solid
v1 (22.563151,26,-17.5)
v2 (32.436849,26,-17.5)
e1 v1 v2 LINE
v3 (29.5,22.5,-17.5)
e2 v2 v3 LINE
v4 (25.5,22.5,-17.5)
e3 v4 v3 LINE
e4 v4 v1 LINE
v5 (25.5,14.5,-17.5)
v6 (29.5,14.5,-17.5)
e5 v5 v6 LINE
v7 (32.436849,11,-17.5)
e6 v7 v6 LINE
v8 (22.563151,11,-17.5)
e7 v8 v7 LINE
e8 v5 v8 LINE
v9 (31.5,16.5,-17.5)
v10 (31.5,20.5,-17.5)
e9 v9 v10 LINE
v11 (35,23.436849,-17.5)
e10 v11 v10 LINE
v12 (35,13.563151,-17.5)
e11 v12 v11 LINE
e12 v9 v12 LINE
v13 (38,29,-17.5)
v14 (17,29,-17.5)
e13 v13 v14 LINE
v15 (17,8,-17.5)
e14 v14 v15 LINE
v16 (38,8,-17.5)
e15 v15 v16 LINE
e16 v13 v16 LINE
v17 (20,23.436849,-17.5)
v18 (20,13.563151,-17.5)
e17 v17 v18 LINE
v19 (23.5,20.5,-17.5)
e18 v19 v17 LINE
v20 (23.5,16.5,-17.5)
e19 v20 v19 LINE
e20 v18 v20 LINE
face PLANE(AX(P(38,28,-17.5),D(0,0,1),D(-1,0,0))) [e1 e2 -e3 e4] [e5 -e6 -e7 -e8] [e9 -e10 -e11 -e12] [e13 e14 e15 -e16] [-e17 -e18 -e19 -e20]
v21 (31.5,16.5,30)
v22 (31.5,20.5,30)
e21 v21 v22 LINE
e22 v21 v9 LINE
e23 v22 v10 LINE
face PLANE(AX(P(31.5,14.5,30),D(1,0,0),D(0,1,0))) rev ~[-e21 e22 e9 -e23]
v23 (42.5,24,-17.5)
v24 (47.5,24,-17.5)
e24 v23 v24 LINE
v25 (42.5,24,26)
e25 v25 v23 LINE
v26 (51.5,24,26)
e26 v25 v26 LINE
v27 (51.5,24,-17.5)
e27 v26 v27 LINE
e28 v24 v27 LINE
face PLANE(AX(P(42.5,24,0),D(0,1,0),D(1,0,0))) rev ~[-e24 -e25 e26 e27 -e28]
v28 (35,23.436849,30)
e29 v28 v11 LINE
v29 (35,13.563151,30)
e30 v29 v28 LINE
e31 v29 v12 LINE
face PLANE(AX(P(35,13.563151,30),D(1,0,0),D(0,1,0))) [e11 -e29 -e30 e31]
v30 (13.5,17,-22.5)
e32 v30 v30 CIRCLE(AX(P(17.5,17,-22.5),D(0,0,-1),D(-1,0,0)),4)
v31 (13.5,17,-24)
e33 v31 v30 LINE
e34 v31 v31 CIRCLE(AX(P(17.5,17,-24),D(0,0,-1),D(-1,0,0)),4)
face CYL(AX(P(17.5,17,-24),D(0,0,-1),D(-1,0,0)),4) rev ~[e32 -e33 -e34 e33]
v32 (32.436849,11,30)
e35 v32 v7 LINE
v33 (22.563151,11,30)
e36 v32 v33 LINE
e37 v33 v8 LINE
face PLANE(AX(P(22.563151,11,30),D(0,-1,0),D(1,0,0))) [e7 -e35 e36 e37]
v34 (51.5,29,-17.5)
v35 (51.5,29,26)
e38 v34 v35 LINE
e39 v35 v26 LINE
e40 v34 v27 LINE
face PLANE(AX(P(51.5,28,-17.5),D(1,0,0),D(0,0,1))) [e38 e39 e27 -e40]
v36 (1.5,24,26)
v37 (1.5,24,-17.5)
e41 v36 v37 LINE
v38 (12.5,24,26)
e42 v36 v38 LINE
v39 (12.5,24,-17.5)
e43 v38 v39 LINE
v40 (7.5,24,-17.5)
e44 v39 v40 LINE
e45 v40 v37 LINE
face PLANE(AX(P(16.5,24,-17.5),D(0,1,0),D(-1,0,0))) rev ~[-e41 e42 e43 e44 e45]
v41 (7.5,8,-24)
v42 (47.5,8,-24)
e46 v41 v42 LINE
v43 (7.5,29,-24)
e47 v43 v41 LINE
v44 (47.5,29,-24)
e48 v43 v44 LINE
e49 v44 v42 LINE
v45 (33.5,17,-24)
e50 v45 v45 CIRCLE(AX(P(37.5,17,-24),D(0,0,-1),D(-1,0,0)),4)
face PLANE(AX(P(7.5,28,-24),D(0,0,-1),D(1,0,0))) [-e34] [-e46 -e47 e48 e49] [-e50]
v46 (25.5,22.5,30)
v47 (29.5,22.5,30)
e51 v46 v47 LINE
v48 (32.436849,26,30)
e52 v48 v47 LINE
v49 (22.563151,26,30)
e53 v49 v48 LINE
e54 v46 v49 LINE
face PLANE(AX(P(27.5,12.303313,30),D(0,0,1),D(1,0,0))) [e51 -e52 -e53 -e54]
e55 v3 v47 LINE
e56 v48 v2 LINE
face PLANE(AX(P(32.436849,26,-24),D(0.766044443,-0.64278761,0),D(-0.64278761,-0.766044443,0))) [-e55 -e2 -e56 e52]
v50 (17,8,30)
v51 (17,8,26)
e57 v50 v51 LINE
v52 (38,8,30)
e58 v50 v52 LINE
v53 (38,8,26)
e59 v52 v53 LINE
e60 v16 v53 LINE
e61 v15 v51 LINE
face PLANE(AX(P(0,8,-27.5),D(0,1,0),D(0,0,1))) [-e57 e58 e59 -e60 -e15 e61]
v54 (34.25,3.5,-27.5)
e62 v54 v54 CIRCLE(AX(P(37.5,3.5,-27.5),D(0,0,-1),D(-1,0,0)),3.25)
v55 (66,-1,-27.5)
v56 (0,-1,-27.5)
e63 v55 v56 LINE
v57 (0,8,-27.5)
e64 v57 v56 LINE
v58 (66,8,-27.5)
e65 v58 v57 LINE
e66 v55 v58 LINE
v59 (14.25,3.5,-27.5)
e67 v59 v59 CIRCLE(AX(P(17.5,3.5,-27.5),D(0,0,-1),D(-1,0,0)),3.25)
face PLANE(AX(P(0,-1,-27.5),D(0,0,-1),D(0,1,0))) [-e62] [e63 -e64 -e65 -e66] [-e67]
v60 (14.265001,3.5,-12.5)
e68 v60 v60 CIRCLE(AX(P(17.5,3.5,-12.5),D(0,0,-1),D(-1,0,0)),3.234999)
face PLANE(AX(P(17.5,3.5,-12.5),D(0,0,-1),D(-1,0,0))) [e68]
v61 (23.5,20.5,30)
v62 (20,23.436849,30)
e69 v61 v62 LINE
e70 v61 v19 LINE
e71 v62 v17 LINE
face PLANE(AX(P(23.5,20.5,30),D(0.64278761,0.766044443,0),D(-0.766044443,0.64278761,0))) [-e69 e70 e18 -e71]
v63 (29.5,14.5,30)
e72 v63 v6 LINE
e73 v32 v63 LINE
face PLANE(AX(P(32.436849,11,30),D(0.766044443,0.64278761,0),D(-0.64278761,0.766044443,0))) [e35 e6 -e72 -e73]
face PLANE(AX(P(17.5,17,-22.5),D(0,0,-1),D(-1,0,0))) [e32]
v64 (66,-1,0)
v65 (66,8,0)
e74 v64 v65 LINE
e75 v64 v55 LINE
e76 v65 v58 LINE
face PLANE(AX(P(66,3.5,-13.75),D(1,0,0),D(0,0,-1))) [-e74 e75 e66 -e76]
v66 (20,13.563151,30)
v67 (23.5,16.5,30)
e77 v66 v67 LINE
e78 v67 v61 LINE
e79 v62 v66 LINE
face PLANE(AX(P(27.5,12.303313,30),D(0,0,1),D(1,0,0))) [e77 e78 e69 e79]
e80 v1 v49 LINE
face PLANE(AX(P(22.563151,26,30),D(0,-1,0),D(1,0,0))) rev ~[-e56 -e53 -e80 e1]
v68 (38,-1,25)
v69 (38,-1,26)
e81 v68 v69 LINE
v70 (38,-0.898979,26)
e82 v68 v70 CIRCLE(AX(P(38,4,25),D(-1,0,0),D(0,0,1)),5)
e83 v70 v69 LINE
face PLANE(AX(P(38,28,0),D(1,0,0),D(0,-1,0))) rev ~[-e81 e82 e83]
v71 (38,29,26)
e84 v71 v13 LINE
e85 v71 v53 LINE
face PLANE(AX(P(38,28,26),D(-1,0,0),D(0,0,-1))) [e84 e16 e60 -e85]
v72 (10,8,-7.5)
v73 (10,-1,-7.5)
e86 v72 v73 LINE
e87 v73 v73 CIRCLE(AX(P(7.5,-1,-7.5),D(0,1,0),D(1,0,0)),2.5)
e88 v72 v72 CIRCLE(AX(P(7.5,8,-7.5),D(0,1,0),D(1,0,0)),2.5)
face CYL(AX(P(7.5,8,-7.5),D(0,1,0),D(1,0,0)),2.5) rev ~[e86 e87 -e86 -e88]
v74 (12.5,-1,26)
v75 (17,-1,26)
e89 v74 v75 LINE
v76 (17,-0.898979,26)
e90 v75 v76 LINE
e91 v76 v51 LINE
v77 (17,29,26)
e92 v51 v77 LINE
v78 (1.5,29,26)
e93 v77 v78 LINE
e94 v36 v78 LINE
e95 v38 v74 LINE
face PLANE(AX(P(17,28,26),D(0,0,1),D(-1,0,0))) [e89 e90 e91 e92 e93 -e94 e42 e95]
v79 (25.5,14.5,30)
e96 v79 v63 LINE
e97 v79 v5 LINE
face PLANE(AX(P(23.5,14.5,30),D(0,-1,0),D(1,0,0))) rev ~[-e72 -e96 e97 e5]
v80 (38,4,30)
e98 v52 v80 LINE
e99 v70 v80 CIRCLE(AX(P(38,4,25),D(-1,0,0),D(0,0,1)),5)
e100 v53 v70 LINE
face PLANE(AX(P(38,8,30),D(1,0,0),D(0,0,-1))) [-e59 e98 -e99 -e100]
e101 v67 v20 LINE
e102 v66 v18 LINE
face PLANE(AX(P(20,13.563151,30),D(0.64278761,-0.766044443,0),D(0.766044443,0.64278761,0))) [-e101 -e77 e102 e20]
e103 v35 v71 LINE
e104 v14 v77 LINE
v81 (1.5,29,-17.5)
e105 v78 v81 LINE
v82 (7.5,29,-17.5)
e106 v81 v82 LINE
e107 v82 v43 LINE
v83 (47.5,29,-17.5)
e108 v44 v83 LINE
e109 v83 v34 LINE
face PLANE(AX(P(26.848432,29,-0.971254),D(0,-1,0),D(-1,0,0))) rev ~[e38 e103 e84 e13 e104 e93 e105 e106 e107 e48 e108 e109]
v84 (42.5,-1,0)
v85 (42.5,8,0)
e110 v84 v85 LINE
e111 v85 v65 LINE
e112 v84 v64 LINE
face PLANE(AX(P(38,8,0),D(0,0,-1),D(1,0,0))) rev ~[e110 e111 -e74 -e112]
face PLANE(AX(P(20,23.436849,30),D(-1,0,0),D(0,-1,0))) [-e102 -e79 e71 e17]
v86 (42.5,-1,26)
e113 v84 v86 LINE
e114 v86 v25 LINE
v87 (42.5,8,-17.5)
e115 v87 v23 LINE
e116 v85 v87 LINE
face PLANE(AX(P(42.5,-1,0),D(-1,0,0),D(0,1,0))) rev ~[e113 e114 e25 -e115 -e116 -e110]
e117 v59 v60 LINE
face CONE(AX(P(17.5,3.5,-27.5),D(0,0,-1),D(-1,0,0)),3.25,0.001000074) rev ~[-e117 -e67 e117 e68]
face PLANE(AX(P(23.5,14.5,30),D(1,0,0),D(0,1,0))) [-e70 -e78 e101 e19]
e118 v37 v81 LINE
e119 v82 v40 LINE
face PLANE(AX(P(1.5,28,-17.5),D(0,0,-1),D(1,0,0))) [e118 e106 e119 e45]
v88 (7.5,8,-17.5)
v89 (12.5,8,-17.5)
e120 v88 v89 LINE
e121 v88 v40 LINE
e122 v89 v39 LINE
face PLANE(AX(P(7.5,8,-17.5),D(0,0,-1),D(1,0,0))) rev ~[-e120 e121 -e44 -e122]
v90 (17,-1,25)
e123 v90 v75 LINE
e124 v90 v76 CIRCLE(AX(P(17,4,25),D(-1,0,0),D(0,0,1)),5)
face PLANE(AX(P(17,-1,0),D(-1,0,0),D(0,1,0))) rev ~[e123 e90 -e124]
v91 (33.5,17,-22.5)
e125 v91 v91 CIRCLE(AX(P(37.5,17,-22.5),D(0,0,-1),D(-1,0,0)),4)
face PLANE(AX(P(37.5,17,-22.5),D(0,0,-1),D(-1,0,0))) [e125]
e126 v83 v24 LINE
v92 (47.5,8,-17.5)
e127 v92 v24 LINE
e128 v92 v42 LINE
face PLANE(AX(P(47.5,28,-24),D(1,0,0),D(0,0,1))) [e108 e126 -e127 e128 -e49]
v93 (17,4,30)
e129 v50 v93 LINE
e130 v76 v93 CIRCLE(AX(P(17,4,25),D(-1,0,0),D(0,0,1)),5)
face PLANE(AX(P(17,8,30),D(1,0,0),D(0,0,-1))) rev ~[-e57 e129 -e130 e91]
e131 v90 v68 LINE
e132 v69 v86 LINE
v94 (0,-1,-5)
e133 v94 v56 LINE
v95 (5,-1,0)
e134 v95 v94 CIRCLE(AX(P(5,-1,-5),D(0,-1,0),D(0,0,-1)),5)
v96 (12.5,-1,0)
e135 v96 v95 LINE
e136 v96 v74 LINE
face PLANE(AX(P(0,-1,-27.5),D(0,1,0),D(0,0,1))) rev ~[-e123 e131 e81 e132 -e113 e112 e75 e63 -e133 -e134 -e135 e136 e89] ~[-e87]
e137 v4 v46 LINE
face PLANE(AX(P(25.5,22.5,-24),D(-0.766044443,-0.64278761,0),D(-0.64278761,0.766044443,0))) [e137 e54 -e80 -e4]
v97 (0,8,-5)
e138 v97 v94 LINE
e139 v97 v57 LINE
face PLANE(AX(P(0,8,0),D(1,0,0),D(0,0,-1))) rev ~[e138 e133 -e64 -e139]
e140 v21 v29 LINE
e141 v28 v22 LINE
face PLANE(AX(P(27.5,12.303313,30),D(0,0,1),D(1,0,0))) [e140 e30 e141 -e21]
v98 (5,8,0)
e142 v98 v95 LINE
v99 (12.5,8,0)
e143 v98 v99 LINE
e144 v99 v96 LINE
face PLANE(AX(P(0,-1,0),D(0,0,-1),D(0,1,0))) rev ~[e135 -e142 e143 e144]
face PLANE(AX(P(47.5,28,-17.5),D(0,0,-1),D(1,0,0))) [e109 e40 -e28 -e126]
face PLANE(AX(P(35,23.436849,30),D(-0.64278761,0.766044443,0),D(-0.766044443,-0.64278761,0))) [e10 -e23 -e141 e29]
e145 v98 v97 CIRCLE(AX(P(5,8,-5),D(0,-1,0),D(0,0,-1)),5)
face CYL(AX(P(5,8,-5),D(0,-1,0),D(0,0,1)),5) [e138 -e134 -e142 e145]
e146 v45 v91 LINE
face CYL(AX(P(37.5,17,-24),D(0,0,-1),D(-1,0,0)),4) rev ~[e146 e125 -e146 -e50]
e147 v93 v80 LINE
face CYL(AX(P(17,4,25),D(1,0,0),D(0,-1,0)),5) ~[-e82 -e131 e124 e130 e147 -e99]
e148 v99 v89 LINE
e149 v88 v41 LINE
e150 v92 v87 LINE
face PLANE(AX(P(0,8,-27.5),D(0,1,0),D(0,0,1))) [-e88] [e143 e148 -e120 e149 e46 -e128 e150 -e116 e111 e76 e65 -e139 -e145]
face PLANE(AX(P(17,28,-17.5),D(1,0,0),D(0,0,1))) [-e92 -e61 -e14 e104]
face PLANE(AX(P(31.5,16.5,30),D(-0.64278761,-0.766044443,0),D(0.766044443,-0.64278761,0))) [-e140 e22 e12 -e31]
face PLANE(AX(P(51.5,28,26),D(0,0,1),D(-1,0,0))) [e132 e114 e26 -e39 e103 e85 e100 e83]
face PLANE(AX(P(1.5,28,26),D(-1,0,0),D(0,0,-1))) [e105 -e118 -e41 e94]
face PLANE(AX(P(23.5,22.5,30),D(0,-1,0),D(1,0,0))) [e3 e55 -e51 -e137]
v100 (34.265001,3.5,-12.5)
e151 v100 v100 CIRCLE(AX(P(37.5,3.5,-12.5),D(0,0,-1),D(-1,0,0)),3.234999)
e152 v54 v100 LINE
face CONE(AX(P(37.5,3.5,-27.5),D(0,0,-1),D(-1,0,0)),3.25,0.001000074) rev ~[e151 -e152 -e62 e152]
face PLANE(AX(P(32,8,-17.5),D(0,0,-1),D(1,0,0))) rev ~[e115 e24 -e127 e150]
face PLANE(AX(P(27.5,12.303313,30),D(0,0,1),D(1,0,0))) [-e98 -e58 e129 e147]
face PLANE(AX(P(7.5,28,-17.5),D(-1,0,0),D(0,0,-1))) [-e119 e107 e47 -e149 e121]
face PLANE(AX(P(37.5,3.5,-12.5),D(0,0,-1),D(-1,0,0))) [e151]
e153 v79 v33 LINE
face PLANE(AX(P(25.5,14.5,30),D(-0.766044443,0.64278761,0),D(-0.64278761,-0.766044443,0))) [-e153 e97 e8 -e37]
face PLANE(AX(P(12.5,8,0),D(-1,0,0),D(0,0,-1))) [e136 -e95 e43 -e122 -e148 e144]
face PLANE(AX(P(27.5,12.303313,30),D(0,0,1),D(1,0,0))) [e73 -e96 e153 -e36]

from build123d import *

# Parameters (mm, degrees)
BOSS_EXTRUDE2_DEPTH          = 8
BOSS_EXTRUDE2_DEPTH_BACK     = 1
SKETCH1_R                    = 2.5
CUT_EXTRUDE1_DEPTH           = 79.300702423
CUT_EXTRUDE1_DEPTH_BACK      = 79.300702423
SKETCH2_R                    = 2.5
SKETCH3_R                    = 3.25
CUT_EXTRUDE5_DEPTH           = 15
CUT_EXTRUDE5_DRAFT           = -0.0573
CUT_EXTRUDE5_PROFILE_2_DEPTH = 15
CUT_EXTRUDE5_PROFILE_2_DRAFT = -0.0573
SKETCH5_W                    = 9
SKETCH5_H                    = 6.5
BOSS_EXTRUDE3_DEPTH          = 14.5
CUT_EXTRUDE4_DEPTH           = 1.5
SKETCH12_W                   = 21
SKETCH12_H                   = 30
BOSS_EXTRUDE7_DEPTH          = 9
SKETCH15_W                   = 9
SKETCH15_H                   = 6.5
BOSS_EXTRUDE8_DEPTH          = 3.5
BOSS_EXTRUDE9_DEPTH          = 54
FILLET4_R                    = 5
SKETCH18_W                   = 9.873697418
SKETCH18_H                   = 6.5
BOSS_EXTRUDE11_DEPTH         = 0.5
SKETCH20_W                   = 4
SKETCH20_H                   = 17.5
BOSS_EXTRUDE12_DEPTH         = 18
BOSS_EXTRUDE13_DEPTH         = 11
BOSS_EXTRUDE13_DEPTH_BACK    = 4
SKETCH22_W                   = 17.5
SKETCH22_H                   = 4
SKETCH25_W                   = 2
SKETCH25_H                   = 17.5
BOSS_EXTRUDE14_DEPTH         = 41
SKETCH28_W                   = 41
SKETCH28_H                   = 45
BOSS_EXTRUDE15_DEPTH         = 2
SKETCH29_R                   = 1.75
CUT_EXTRUDE8_DEPTH           = 9
BOSS_EXTRUDE16_DEPTH         = 9
BOSS_EXTRUDE16_DEPTH_BACK    = 4
SKETCH30_W                   = 17.5
SKETCH30_H                   = 4
SKETCH31_R                   = 10
CUT_EXTRUDE9_DEPTH           = 9
SKETCH32_W                   = 13
SKETCH32_H                   = 4
BOSS_EXTRUDE17_DEPTH         = 23.5
SKETCH33_W                   = 0.5
SKETCH33_H                   = 17.5
BOSS_EXTRUDE18_DEPTH         = 20
BOSS_EXTRUDE19_DEPTH         = 26
SKETCH35_W                   = 9.873697418
SKETCH35_H                   = 0.5
BOSS_EXTRUDE20_DEPTH         = 47.5
BOSS_EXTRUDE21_DEPTH         = 47.5
SKETCH38_W                   = 0.419549816
SKETCH38_H                   = 18.5
CUT_EXTRUDE10_DEPTH          = 90.5
SKETCH46_W                   = 27.5
SKETCH46_H                   = 9
BOSS_EXTRUDE26_DEPTH         = 11.5
SKETCH47_W                   = 27.5
SKETCH47_H                   = 9
BOSS_EXTRUDE27_DEPTH         = 11
SKETCH48_W                   = 15.5
SKETCH48_H                   = 6.5
BOSS_EXTRUDE31_DEPTH         = 18.5
SKETCH50_R                   = 4
CUT_EXTRUDE11_DEPTH          = 1.5
SKETCH51_W                   = 9.626242636
SKETCH51_H                   = 9.125298808
BOSS_EXTRUDE32_DEPTH         = 1.5
SKETCH54_W                   = 8
SKETCH54_H                   = 8
BOSS_EXTRUDE35_DEPTH         = 47.5
SKETCH55_W                   = 9.873697418
SKETCH55_H                   = 0.5
CUT_EXTRUDE12_DEPTH          = 47.5
BOSS_EXTRUDE37_DEPTH         = 47.5
CUT_EXTRUDE17_DEPTH          = 47.5
SKETCH62_W                   = 8
SKETCH62_H                   = 8
CUT_EXTRUDE18_DEPTH          = 47.5
SKETCH63_W                   = 13
SKETCH63_H                   = 4
CUT_EXTRUDE20_DEPTH          = 17
SKETCH64_W                   = 0.5
SKETCH64_H                   = 1.5
BOSS_EXTRUDE38_DEPTH         = 6.5
SKETCH65_W                   = 11
SKETCH65_H                   = 27.5
SKETCH65_R                   = 2.5
CUT_EXTRUDE22_DEPTH          = 9
FILLET6_R                    = 5
BOSS_EXTRUDE39_DEPTH         = 11
BOSS_EXTRUDE39_DEPTH_BACK    = 10
SKETCH67_W                   = 27.5
SKETCH67_H                   = 9
SKETCH68_W                   = 2
SKETCH68_H                   = 45
CUT_EXTRUDE23_DEPTH          = 17
SKETCH69_W                   = 2
SKETCH69_H                   = 41
CUT_EXTRUDE24_DEPTH          = 37
CUT_EXTRUDE25_DEPTH          = 6.5
SKETCH71_W                   = 40
SKETCH71_H                   = 6.5
BOSS_EXTRUDE40_DEPTH         = 1.5
BOSS_EXTRUDE41_DEPTH         = 1


with BuildPart() as part:
    # Sketch1 → Boss-Extrude2 (new, two sides: drawn at the far end of the back side and taken through both)
    with BuildSketch(Plane(origin=(0, 0, 0), x_dir=(1, 0, 0), z_dir=(0, 1, 0)).offset(-BOSS_EXTRUDE2_DEPTH_BACK)):
        with BuildLine():
            Line((5, 0), (50, 0))
            ThreePointArc((50, 0), (53.535533906, 1.464466094), (55, 5))
            Line((55, 5), (55, 50))
            ThreePointArc((55, 50), (53.535533906, 53.535533906), (50, 55))
            Line((50, 55), (5, 55))
            ThreePointArc((5, 55), (1.464466094, 53.535533906), (0, 50))
            Line((0, 50), (0, 5))
            ThreePointArc((0, 5), (1.464466094, 1.464466094), (5, 0))
        make_face()
        with Locations((7.5, 47.5)):
            Circle(SKETCH1_R, mode=Mode.SUBTRACT)
        with Locations((47.5, 47.5)):
            Circle(SKETCH1_R, mode=Mode.SUBTRACT)
        with Locations((47.5, 7.5)):
            Circle(SKETCH1_R, mode=Mode.SUBTRACT)
        with Locations((7.5, 7.5)):
            Circle(SKETCH1_R, mode=Mode.SUBTRACT)
    extrude(amount=BOSS_EXTRUDE2_DEPTH + BOSS_EXTRUDE2_DEPTH_BACK)

    # Sketch2 → Cut-Extrude1 (cut, two sides: drawn at the far end of the back side and taken through both)
    with BuildSketch(Plane(origin=(0, 8, 0), x_dir=(1, 0, 0), z_dir=(0, 1, 0)).offset(-CUT_EXTRUDE1_DEPTH_BACK)):
        with BuildLine():
            Line((0, 50), (0, 27.5))
            Line((0, 27.5), (55, 27.5))
            Line((55, 27.5), (55, 50))
            ThreePointArc((55, 50), (53.535533906, 53.535533906), (50, 55))
            Line((50, 55), (5, 55))
            ThreePointArc((5, 55), (1.464466094, 53.535533906), (0, 50))
        make_face()
        with Locations((7.5, 47.5)):
            Circle(SKETCH2_R, mode=Mode.SUBTRACT)
        with Locations((47.5, 47.5)):
            Circle(SKETCH2_R, mode=Mode.SUBTRACT)
    extrude(amount=CUT_EXTRUDE1_DEPTH + CUT_EXTRUDE1_DEPTH_BACK, mode=Mode.SUBTRACT)


with BuildPart() as cut_extrude5_tool:
    # Sketch3 → Cut-Extrude5 (with draft: the straight prism first)
    with BuildSketch(Plane(origin=(0, 0, -27.5), x_dir=(-1, 0, 0), z_dir=(0, 0, -1))):
        with Locations((-37.5, 3.5)):
            Circle(SKETCH3_R)
    extrude(amount=-CUT_EXTRUDE5_DEPTH)
    # Cut-Extrude5: the draft: its side faces are tilted about the plane it starts from
    cut_extrude5_sides = [cut_extrude5_tool.faces().sort_by_distance(p)[0] for p in [
        (40.75, 3.5, -20),
    ]]
    draft(cut_extrude5_sides, Plane(origin=(0, 0, -27.5), x_dir=(-1, 0, 0), z_dir=(0, 0, -1)), CUT_EXTRUDE5_DRAFT)


with BuildPart() as part_1:
    add(part.part)

    # Cut-Extrude5: cut by cut_extrude5_tool
    add(cut_extrude5_tool.part, mode=Mode.SUBTRACT)


with BuildPart() as cut_extrude5_profile_2_tool:
    # Sketch3 → Cut-Extrude5 profile 2 (with draft: the straight prism first)
    with BuildSketch(Plane(origin=(0, 0, -27.5), x_dir=(-1, 0, 0), z_dir=(0, 0, -1))):
        with Locations((-17.5, 3.5)):
            Circle(SKETCH3_R)
    extrude(amount=-CUT_EXTRUDE5_PROFILE_2_DEPTH)
    # Cut-Extrude5 profile 2: the draft: its side faces are tilted about the plane it starts from
    cut_extrude5_profile_2_sides = [cut_extrude5_profile_2_tool.faces().sort_by_distance(p)[0] for p in [
        (20.75, 3.5, -20),
    ]]
    draft(cut_extrude5_profile_2_sides, Plane(origin=(0, 0, -27.5), x_dir=(-1, 0, 0), z_dir=(0, 0, -1)), CUT_EXTRUDE5_PROFILE_2_DRAFT)


with BuildPart() as part_2:
    add(part_1.part)

    # Cut-Extrude5 profile 2: cut by cut_extrude5_profile_2_tool
    add(cut_extrude5_profile_2_tool.part, mode=Mode.SUBTRACT)

    # Sketch5 → Boss-Extrude3 (add)
    with BuildSketch(Plane(origin=(0, 8, 0), x_dir=(1, 0, 0), z_dir=(0, 1, 0))):
        with Locations((27.5, 20.75)):
            Rectangle(SKETCH5_W, SKETCH5_H)
    extrude(amount=BOSS_EXTRUDE3_DEPTH)

    # Sketch6 → Cut-Extrude4 (cut)
    with BuildSketch(Plane(origin=(0, 0, -24), x_dir=(-1, 0, 0), z_dir=(0, 0, -1))):
        with BuildLine():
            ThreePointArc((-27.5, 13), (-24.671572875, 14.171572875), (-23.5, 17))
            ThreePointArc((-23.5, 17), (-30.328427125, 19.828427125), (-27.5, 13))
        make_face()
    extrude(amount=-CUT_EXTRUDE4_DEPTH, mode=Mode.SUBTRACT)

    # Sketch12 → Boss-Extrude7 (add)
    with BuildSketch(Plane(origin=(0, 8, 0), x_dir=(1, 0, 0), z_dir=(0, 1, 0))):
        with Locations((27.5, -15)):
            Rectangle(SKETCH12_W, SKETCH12_H)
    extrude(amount=-BOSS_EXTRUDE7_DEPTH)

    # Sketch15 → Boss-Extrude8 (add)
    with BuildSketch(Plane(origin=(0, 22.5, 0), x_dir=(1, 0, 0), z_dir=(0, 1, 0))):
        with Locations((27.5, 20.75)):
            Rectangle(SKETCH15_W, SKETCH15_H)
    extrude(amount=BOSS_EXTRUDE8_DEPTH)

    # Sketch11 → Boss-Extrude9 (add)
    with BuildSketch(Plane(origin=(0, 0, -24), x_dir=(-1, 0, 0), z_dir=(0, 0, -1))):
        Polygon((-29.5, 22.5), (-25.5, 22.5), (-22.563151291, 26), (-32.436848709, 26), align=None)
    extrude(amount=-BOSS_EXTRUDE9_DEPTH)

    # Fillet4
    fillet4_edges = [part_2.edges().sort_by_distance(p)[0] for p in [
        (27.5, -1, 30),
    ]]
    fillet(fillet4_edges, radius=FILLET4_R)

    # Sketch18 → Boss-Extrude11 (add)
    with BuildSketch(Plane(origin=(0, 26, 0), x_dir=(1, 0, 0), z_dir=(0, 1, 0))):
        with Locations((27.5, 20.75)):
            Rectangle(SKETCH18_W, SKETCH18_H)
    extrude(amount=BOSS_EXTRUDE11_DEPTH)

    # Sketch20 → Boss-Extrude12 (add)
    with BuildSketch(Plane(origin=(0, 8, 0), x_dir=(1, 0, 0), z_dir=(0, 1, 0))):
        with Locations((14.5, 8.75)):
            Rectangle(SKETCH20_W, SKETCH20_H)
        with Locations((40.5, 8.75)):
            Rectangle(SKETCH20_W, SKETCH20_H)
    extrude(amount=BOSS_EXTRUDE12_DEPTH)

    # Sketch22 → Boss-Extrude13 (add, two sides: drawn at the far end of the back side and taken through both)
    with BuildSketch(Plane.ZY.offset(-12.5).offset(-BOSS_EXTRUDE13_DEPTH_BACK)):
        with Locations((-8.75, 26)):
            Rectangle(SKETCH22_W, SKETCH22_H)
    extrude(amount=BOSS_EXTRUDE13_DEPTH + BOSS_EXTRUDE13_DEPTH_BACK)

    # Sketch25 → Boss-Extrude14 (add)
    with BuildSketch(Plane(origin=(0, 28, 0), x_dir=(1, 0, 0), z_dir=(0, 1, 0))):
        with Locations((2.5, 8.75)):
            Rectangle(SKETCH25_W, SKETCH25_H)
    extrude(amount=BOSS_EXTRUDE14_DEPTH)

    # Sketch28 → Boss-Extrude15 (add)
    with BuildSketch(Plane.ZY.offset(-1.5)):
        with Locations((-20.5, 46.5)):
            Rectangle(SKETCH28_W, SKETCH28_H)
    extrude(amount=-BOSS_EXTRUDE15_DEPTH)

    # Sketch29 → Cut-Extrude8 (cut)
    with BuildSketch(Plane.ZY.offset(-1.5)):
        with Locations((-5, 33)):
            Circle(SKETCH29_R)
        with Locations((-36, 33)):
            Circle(SKETCH29_R)
        with Locations((-36, 64)):
            Circle(SKETCH29_R)
        with Locations((-5, 64)):
            Circle(SKETCH29_R)
    extrude(amount=-CUT_EXTRUDE8_DEPTH, mode=Mode.SUBTRACT)

    # Sketch30 → Boss-Extrude16 (add, two sides: drawn at the far end of the back side and taken through both)
    with BuildSketch(Plane(origin=(42.5, 0, 0), x_dir=(0, 0, -1), z_dir=(1, 0, 0)).offset(-BOSS_EXTRUDE16_DEPTH_BACK)):
        with Locations((8.75, 26)):
            Rectangle(SKETCH30_W, SKETCH30_H)
    extrude(amount=BOSS_EXTRUDE16_DEPTH + BOSS_EXTRUDE16_DEPTH_BACK)

    # Sketch31 → Cut-Extrude9 (cut)
    with BuildSketch(Plane(origin=(3.5, 0, 0), x_dir=(0, 0, -1), z_dir=(1, 0, 0))):
        with Locations((20.5, 47)):
            Circle(SKETCH31_R)
    extrude(amount=-CUT_EXTRUDE9_DEPTH, mode=Mode.SUBTRACT)

    # Sketch32 → Boss-Extrude17 (add)
    with BuildSketch(Plane(origin=(0, 0, -17.5), x_dir=(-1, 0, 0), z_dir=(0, 0, -1))):
        with Locations((-10, 26)):
            Rectangle(SKETCH32_W, SKETCH32_H)
    extrude(amount=BOSS_EXTRUDE17_DEPTH)

    # Sketch33 → Boss-Extrude18 (add)
    with BuildSketch(Plane(origin=(0, 8, 0), x_dir=(1, 0, 0), z_dir=(0, 1, 0))):
        with Locations((38.25, 8.75)):
            Rectangle(SKETCH33_W, SKETCH33_H)
        with Locations((16.75, 8.75)):
            Rectangle(SKETCH33_W, SKETCH33_H)
    extrude(amount=BOSS_EXTRUDE18_DEPTH)

    # Sketch34 → Boss-Extrude19 (add)
    with BuildSketch(Plane.XY):
        Polygon((51.5, 24), (51.5, 28), (38, 28), (38, -1), (42.5, -1), (42.5, 24), align=None)
        Polygon((17, 28), (1.5, 28), (1.5, 24), (12.5, 24), (12.5, -1), (17, -1), align=None)
    extrude(amount=BOSS_EXTRUDE19_DEPTH)

    # Sketch35 → Boss-Extrude20 (add)
    with BuildSketch(Plane.XY.offset(-17.5)):
        with Locations((27.5, 26.25)):
            Rectangle(SKETCH35_W, SKETCH35_H)
    extrude(amount=BOSS_EXTRUDE20_DEPTH)

    # Sketch37 → Boss-Extrude21 (add)
    with BuildSketch(Plane.XY.offset(-17.5)):
        Polygon((29.5, 12), (25.5, 12), (21.863844179, 7.666598237), (33.136155821, 7.666598237), align=None)
    extrude(amount=BOSS_EXTRUDE21_DEPTH)

    # Sketch38 → Cut-Extrude10 (cut)
    with BuildSketch(Plane.XY.offset(30)):
        with Locations((22.353376383, 17.25)):
            Rectangle(SKETCH38_W, SKETCH38_H)
        with Locations((32.646623617, 17.25)):
            Rectangle(SKETCH38_W, SKETCH38_H)
    extrude(amount=-CUT_EXTRUDE10_DEPTH, mode=Mode.SUBTRACT)

    # Sketch46 → Boss-Extrude26 (add)
    with BuildSketch(Plane.ZY):
        with Locations((-13.75, 3.5)):
            Rectangle(SKETCH46_W, SKETCH46_H)
    extrude(amount=-BOSS_EXTRUDE26_DEPTH)

    # Sketch47 → Boss-Extrude27 (add)
    with BuildSketch(Plane.ZY):
        with Locations((-13.75, 3.5)):
            Rectangle(SKETCH47_W, SKETCH47_H)
    extrude(amount=BOSS_EXTRUDE27_DEPTH)

    # Sketch48 → Boss-Extrude31 (add)
    with BuildSketch(Plane(origin=(0, 8, 0), x_dir=(1, 0, 0), z_dir=(0, 1, 0))):
        with Locations((15.25, 20.75)):
            Rectangle(SKETCH48_W, SKETCH48_H)
        with Locations((39.75, 20.75)):
            Rectangle(SKETCH48_W, SKETCH48_H)
    extrude(amount=BOSS_EXTRUDE31_DEPTH)

    # Sketch50 → Cut-Extrude11 (cut)
    with BuildSketch(Plane(origin=(0, 0, -24), x_dir=(-1, 0, 0), z_dir=(0, 0, -1))):
        with Locations((-17.5, 17)):
            Circle(SKETCH50_R)
        with Locations((-37.5, 17)):
            Circle(SKETCH50_R)
    extrude(amount=-CUT_EXTRUDE11_DEPTH, mode=Mode.SUBTRACT)

    # Sketch51 → Boss-Extrude32 (add)
    with BuildSketch(Plane(origin=(0, 0, -24), x_dir=(-1, 0, 0), z_dir=(0, 0, -1))):
        with Locations((-27.646184708, 17.114099589)):
            Rectangle(SKETCH51_W, SKETCH51_H)
    extrude(amount=-BOSS_EXTRUDE32_DEPTH)

    # Sketch54 → Boss-Extrude35 (add)
    with BuildSketch(Plane.XY.offset(-17.5)):
        with Locations((27.5, 18.5)):
            Rectangle(SKETCH54_W, SKETCH54_H)
    extrude(amount=BOSS_EXTRUDE35_DEPTH)

    # Sketch55 → Cut-Extrude12 (cut)
    with BuildSketch(Plane.XY.offset(30)):
        with Locations((27.5, 26.25)):
            Rectangle(SKETCH55_W, SKETCH55_H)
    extrude(amount=-CUT_EXTRUDE12_DEPTH, mode=Mode.SUBTRACT)

    # Sketch57 → Boss-Extrude37 (add)
    with BuildSketch(Plane.XY.offset(30)):
        Polygon((35, 23.436848709), (31.5, 20.5), (31.5, 16.5), (35, 13.563151291), align=None)
        Polygon((20, 13.563151291), (23.5, 16.5), (23.5, 20.5), (20, 23.436848709), align=None)
        Polygon((32.436848709, 11), (29.5, 14.5), (25.5, 14.5), (22.563151291, 11), align=None)
    extrude(amount=-BOSS_EXTRUDE37_DEPTH)

    # Sketch61 → Cut-Extrude17 (cut)
    with BuildSketch(Plane.XY.offset(30)):
        Polygon((32.436848709, 8), (22.563151291, 8), (22.563151291, 8.5), (24.660900369, 11), (30.339099631, 11), (32.436848709, 8.5), align=None)
    extrude(amount=-CUT_EXTRUDE17_DEPTH, mode=Mode.SUBTRACT)

    # Sketch62 → Cut-Extrude18 (cut)
    with BuildSketch(Plane.XY.offset(30)):
        with Locations((27.5, 18.5)):
            Rectangle(SKETCH62_W, SKETCH62_H)
    extrude(amount=-CUT_EXTRUDE18_DEPTH, mode=Mode.SUBTRACT)

    # Sketch63 → Cut-Extrude20 (cut)
    with BuildSketch(Plane(origin=(0, 0, -41), x_dir=(-1, 0, 0), z_dir=(0, 0, -1))):
        with Locations((-10, 26)):
            Rectangle(SKETCH63_W, SKETCH63_H)
    extrude(amount=-CUT_EXTRUDE20_DEPTH, mode=Mode.SUBTRACT)

    # Sketch64 → Boss-Extrude38 (add)
    with BuildSketch(Plane(origin=(0, 0, -17.5), x_dir=(-1, 0, 0), z_dir=(0, 0, -1))):
        with Locations((-16.75, 27.25)):
            Rectangle(SKETCH64_W, SKETCH64_H)
    extrude(amount=BOSS_EXTRUDE38_DEPTH)

    # Sketch65 → Cut-Extrude22 (cut)
    with BuildSketch(Plane(origin=(0, 8, 0), x_dir=(1, 0, 0), z_dir=(0, 1, 0))):
        with Locations((-5.5, 13.75)):
            Rectangle(SKETCH65_W, SKETCH65_H)
        with Locations((7.5, 7.5)):
            Circle(SKETCH65_R)
    extrude(amount=-CUT_EXTRUDE22_DEPTH, mode=Mode.SUBTRACT)

    # Fillet6
    fillet6_edges = [part_2.edges().sort_by_distance(p)[0] for p in [
        (0, 3.5, 0),
    ]]
    fillet(fillet6_edges, radius=FILLET6_R)

    # Sketch67 → Boss-Extrude39 (add, two sides: drawn at the far end of the back side and taken through both)
    with BuildSketch(Plane(origin=(55, 0, 0), x_dir=(0, 0, -1), z_dir=(1, 0, 0)).offset(-BOSS_EXTRUDE39_DEPTH_BACK)):
        with Locations((13.75, 3.5)):
            Rectangle(SKETCH67_W, SKETCH67_H)
    extrude(amount=BOSS_EXTRUDE39_DEPTH + BOSS_EXTRUDE39_DEPTH_BACK)

    # Sketch68 → Cut-Extrude23 (cut)
    with BuildSketch(Plane(origin=(0, 0, -41), x_dir=(-1, 0, 0), z_dir=(0, 0, -1))):
        with Locations((-2.5, 46.5)):
            Rectangle(SKETCH68_W, SKETCH68_H)
    extrude(amount=-CUT_EXTRUDE23_DEPTH, mode=Mode.SUBTRACT)

    # Sketch69 → Cut-Extrude24 (cut)
    with BuildSketch(Plane(origin=(0, 0, -24), x_dir=(-1, 0, 0), z_dir=(0, 0, -1))):
        with Locations((-2.5, 48.5)):
            Rectangle(SKETCH69_W, SKETCH69_H)
    extrude(amount=-CUT_EXTRUDE24_DEPTH, mode=Mode.SUBTRACT)

    # Sketch70 → Cut-Extrude25 (cut)
    with BuildSketch(Plane(origin=(0, 0, -24), x_dir=(-1, 0, 0), z_dir=(0, 0, -1))):
        Polygon((-17.5, 28), (-17.5, 26.5), (-7.5, 26.5), (-7.5, 24), (-1.5, 24), (-1.5, 28), align=None)
    extrude(amount=-CUT_EXTRUDE25_DEPTH, mode=Mode.SUBTRACT)

    # Sketch71 → Boss-Extrude40 (add)
    with BuildSketch(Plane(origin=(0, 26.5, 0), x_dir=(1, 0, 0), z_dir=(0, 1, 0))):
        with Locations((27.5, 20.75)):
            Rectangle(SKETCH71_W, SKETCH71_H)
    extrude(amount=BOSS_EXTRUDE40_DEPTH)

    # Sketch72 → Boss-Extrude41 (add)
    with BuildSketch(Plane(origin=(0, 28, 0), x_dir=(1, 0, 0), z_dir=(0, 1, 0))):
        Polygon((1.5, 17.5), (7.5, 17.5), (7.5, 24), (47.5, 24), (47.5, 17.5), (51.5, 17.5), (51.5, -26), (38, -26), (38, 17.5), (17, 17.5), (17, -26), (1.5, -26), align=None)
    extrude(amount=BOSS_EXTRUDE41_DEPTH)


solid = part_2.part
